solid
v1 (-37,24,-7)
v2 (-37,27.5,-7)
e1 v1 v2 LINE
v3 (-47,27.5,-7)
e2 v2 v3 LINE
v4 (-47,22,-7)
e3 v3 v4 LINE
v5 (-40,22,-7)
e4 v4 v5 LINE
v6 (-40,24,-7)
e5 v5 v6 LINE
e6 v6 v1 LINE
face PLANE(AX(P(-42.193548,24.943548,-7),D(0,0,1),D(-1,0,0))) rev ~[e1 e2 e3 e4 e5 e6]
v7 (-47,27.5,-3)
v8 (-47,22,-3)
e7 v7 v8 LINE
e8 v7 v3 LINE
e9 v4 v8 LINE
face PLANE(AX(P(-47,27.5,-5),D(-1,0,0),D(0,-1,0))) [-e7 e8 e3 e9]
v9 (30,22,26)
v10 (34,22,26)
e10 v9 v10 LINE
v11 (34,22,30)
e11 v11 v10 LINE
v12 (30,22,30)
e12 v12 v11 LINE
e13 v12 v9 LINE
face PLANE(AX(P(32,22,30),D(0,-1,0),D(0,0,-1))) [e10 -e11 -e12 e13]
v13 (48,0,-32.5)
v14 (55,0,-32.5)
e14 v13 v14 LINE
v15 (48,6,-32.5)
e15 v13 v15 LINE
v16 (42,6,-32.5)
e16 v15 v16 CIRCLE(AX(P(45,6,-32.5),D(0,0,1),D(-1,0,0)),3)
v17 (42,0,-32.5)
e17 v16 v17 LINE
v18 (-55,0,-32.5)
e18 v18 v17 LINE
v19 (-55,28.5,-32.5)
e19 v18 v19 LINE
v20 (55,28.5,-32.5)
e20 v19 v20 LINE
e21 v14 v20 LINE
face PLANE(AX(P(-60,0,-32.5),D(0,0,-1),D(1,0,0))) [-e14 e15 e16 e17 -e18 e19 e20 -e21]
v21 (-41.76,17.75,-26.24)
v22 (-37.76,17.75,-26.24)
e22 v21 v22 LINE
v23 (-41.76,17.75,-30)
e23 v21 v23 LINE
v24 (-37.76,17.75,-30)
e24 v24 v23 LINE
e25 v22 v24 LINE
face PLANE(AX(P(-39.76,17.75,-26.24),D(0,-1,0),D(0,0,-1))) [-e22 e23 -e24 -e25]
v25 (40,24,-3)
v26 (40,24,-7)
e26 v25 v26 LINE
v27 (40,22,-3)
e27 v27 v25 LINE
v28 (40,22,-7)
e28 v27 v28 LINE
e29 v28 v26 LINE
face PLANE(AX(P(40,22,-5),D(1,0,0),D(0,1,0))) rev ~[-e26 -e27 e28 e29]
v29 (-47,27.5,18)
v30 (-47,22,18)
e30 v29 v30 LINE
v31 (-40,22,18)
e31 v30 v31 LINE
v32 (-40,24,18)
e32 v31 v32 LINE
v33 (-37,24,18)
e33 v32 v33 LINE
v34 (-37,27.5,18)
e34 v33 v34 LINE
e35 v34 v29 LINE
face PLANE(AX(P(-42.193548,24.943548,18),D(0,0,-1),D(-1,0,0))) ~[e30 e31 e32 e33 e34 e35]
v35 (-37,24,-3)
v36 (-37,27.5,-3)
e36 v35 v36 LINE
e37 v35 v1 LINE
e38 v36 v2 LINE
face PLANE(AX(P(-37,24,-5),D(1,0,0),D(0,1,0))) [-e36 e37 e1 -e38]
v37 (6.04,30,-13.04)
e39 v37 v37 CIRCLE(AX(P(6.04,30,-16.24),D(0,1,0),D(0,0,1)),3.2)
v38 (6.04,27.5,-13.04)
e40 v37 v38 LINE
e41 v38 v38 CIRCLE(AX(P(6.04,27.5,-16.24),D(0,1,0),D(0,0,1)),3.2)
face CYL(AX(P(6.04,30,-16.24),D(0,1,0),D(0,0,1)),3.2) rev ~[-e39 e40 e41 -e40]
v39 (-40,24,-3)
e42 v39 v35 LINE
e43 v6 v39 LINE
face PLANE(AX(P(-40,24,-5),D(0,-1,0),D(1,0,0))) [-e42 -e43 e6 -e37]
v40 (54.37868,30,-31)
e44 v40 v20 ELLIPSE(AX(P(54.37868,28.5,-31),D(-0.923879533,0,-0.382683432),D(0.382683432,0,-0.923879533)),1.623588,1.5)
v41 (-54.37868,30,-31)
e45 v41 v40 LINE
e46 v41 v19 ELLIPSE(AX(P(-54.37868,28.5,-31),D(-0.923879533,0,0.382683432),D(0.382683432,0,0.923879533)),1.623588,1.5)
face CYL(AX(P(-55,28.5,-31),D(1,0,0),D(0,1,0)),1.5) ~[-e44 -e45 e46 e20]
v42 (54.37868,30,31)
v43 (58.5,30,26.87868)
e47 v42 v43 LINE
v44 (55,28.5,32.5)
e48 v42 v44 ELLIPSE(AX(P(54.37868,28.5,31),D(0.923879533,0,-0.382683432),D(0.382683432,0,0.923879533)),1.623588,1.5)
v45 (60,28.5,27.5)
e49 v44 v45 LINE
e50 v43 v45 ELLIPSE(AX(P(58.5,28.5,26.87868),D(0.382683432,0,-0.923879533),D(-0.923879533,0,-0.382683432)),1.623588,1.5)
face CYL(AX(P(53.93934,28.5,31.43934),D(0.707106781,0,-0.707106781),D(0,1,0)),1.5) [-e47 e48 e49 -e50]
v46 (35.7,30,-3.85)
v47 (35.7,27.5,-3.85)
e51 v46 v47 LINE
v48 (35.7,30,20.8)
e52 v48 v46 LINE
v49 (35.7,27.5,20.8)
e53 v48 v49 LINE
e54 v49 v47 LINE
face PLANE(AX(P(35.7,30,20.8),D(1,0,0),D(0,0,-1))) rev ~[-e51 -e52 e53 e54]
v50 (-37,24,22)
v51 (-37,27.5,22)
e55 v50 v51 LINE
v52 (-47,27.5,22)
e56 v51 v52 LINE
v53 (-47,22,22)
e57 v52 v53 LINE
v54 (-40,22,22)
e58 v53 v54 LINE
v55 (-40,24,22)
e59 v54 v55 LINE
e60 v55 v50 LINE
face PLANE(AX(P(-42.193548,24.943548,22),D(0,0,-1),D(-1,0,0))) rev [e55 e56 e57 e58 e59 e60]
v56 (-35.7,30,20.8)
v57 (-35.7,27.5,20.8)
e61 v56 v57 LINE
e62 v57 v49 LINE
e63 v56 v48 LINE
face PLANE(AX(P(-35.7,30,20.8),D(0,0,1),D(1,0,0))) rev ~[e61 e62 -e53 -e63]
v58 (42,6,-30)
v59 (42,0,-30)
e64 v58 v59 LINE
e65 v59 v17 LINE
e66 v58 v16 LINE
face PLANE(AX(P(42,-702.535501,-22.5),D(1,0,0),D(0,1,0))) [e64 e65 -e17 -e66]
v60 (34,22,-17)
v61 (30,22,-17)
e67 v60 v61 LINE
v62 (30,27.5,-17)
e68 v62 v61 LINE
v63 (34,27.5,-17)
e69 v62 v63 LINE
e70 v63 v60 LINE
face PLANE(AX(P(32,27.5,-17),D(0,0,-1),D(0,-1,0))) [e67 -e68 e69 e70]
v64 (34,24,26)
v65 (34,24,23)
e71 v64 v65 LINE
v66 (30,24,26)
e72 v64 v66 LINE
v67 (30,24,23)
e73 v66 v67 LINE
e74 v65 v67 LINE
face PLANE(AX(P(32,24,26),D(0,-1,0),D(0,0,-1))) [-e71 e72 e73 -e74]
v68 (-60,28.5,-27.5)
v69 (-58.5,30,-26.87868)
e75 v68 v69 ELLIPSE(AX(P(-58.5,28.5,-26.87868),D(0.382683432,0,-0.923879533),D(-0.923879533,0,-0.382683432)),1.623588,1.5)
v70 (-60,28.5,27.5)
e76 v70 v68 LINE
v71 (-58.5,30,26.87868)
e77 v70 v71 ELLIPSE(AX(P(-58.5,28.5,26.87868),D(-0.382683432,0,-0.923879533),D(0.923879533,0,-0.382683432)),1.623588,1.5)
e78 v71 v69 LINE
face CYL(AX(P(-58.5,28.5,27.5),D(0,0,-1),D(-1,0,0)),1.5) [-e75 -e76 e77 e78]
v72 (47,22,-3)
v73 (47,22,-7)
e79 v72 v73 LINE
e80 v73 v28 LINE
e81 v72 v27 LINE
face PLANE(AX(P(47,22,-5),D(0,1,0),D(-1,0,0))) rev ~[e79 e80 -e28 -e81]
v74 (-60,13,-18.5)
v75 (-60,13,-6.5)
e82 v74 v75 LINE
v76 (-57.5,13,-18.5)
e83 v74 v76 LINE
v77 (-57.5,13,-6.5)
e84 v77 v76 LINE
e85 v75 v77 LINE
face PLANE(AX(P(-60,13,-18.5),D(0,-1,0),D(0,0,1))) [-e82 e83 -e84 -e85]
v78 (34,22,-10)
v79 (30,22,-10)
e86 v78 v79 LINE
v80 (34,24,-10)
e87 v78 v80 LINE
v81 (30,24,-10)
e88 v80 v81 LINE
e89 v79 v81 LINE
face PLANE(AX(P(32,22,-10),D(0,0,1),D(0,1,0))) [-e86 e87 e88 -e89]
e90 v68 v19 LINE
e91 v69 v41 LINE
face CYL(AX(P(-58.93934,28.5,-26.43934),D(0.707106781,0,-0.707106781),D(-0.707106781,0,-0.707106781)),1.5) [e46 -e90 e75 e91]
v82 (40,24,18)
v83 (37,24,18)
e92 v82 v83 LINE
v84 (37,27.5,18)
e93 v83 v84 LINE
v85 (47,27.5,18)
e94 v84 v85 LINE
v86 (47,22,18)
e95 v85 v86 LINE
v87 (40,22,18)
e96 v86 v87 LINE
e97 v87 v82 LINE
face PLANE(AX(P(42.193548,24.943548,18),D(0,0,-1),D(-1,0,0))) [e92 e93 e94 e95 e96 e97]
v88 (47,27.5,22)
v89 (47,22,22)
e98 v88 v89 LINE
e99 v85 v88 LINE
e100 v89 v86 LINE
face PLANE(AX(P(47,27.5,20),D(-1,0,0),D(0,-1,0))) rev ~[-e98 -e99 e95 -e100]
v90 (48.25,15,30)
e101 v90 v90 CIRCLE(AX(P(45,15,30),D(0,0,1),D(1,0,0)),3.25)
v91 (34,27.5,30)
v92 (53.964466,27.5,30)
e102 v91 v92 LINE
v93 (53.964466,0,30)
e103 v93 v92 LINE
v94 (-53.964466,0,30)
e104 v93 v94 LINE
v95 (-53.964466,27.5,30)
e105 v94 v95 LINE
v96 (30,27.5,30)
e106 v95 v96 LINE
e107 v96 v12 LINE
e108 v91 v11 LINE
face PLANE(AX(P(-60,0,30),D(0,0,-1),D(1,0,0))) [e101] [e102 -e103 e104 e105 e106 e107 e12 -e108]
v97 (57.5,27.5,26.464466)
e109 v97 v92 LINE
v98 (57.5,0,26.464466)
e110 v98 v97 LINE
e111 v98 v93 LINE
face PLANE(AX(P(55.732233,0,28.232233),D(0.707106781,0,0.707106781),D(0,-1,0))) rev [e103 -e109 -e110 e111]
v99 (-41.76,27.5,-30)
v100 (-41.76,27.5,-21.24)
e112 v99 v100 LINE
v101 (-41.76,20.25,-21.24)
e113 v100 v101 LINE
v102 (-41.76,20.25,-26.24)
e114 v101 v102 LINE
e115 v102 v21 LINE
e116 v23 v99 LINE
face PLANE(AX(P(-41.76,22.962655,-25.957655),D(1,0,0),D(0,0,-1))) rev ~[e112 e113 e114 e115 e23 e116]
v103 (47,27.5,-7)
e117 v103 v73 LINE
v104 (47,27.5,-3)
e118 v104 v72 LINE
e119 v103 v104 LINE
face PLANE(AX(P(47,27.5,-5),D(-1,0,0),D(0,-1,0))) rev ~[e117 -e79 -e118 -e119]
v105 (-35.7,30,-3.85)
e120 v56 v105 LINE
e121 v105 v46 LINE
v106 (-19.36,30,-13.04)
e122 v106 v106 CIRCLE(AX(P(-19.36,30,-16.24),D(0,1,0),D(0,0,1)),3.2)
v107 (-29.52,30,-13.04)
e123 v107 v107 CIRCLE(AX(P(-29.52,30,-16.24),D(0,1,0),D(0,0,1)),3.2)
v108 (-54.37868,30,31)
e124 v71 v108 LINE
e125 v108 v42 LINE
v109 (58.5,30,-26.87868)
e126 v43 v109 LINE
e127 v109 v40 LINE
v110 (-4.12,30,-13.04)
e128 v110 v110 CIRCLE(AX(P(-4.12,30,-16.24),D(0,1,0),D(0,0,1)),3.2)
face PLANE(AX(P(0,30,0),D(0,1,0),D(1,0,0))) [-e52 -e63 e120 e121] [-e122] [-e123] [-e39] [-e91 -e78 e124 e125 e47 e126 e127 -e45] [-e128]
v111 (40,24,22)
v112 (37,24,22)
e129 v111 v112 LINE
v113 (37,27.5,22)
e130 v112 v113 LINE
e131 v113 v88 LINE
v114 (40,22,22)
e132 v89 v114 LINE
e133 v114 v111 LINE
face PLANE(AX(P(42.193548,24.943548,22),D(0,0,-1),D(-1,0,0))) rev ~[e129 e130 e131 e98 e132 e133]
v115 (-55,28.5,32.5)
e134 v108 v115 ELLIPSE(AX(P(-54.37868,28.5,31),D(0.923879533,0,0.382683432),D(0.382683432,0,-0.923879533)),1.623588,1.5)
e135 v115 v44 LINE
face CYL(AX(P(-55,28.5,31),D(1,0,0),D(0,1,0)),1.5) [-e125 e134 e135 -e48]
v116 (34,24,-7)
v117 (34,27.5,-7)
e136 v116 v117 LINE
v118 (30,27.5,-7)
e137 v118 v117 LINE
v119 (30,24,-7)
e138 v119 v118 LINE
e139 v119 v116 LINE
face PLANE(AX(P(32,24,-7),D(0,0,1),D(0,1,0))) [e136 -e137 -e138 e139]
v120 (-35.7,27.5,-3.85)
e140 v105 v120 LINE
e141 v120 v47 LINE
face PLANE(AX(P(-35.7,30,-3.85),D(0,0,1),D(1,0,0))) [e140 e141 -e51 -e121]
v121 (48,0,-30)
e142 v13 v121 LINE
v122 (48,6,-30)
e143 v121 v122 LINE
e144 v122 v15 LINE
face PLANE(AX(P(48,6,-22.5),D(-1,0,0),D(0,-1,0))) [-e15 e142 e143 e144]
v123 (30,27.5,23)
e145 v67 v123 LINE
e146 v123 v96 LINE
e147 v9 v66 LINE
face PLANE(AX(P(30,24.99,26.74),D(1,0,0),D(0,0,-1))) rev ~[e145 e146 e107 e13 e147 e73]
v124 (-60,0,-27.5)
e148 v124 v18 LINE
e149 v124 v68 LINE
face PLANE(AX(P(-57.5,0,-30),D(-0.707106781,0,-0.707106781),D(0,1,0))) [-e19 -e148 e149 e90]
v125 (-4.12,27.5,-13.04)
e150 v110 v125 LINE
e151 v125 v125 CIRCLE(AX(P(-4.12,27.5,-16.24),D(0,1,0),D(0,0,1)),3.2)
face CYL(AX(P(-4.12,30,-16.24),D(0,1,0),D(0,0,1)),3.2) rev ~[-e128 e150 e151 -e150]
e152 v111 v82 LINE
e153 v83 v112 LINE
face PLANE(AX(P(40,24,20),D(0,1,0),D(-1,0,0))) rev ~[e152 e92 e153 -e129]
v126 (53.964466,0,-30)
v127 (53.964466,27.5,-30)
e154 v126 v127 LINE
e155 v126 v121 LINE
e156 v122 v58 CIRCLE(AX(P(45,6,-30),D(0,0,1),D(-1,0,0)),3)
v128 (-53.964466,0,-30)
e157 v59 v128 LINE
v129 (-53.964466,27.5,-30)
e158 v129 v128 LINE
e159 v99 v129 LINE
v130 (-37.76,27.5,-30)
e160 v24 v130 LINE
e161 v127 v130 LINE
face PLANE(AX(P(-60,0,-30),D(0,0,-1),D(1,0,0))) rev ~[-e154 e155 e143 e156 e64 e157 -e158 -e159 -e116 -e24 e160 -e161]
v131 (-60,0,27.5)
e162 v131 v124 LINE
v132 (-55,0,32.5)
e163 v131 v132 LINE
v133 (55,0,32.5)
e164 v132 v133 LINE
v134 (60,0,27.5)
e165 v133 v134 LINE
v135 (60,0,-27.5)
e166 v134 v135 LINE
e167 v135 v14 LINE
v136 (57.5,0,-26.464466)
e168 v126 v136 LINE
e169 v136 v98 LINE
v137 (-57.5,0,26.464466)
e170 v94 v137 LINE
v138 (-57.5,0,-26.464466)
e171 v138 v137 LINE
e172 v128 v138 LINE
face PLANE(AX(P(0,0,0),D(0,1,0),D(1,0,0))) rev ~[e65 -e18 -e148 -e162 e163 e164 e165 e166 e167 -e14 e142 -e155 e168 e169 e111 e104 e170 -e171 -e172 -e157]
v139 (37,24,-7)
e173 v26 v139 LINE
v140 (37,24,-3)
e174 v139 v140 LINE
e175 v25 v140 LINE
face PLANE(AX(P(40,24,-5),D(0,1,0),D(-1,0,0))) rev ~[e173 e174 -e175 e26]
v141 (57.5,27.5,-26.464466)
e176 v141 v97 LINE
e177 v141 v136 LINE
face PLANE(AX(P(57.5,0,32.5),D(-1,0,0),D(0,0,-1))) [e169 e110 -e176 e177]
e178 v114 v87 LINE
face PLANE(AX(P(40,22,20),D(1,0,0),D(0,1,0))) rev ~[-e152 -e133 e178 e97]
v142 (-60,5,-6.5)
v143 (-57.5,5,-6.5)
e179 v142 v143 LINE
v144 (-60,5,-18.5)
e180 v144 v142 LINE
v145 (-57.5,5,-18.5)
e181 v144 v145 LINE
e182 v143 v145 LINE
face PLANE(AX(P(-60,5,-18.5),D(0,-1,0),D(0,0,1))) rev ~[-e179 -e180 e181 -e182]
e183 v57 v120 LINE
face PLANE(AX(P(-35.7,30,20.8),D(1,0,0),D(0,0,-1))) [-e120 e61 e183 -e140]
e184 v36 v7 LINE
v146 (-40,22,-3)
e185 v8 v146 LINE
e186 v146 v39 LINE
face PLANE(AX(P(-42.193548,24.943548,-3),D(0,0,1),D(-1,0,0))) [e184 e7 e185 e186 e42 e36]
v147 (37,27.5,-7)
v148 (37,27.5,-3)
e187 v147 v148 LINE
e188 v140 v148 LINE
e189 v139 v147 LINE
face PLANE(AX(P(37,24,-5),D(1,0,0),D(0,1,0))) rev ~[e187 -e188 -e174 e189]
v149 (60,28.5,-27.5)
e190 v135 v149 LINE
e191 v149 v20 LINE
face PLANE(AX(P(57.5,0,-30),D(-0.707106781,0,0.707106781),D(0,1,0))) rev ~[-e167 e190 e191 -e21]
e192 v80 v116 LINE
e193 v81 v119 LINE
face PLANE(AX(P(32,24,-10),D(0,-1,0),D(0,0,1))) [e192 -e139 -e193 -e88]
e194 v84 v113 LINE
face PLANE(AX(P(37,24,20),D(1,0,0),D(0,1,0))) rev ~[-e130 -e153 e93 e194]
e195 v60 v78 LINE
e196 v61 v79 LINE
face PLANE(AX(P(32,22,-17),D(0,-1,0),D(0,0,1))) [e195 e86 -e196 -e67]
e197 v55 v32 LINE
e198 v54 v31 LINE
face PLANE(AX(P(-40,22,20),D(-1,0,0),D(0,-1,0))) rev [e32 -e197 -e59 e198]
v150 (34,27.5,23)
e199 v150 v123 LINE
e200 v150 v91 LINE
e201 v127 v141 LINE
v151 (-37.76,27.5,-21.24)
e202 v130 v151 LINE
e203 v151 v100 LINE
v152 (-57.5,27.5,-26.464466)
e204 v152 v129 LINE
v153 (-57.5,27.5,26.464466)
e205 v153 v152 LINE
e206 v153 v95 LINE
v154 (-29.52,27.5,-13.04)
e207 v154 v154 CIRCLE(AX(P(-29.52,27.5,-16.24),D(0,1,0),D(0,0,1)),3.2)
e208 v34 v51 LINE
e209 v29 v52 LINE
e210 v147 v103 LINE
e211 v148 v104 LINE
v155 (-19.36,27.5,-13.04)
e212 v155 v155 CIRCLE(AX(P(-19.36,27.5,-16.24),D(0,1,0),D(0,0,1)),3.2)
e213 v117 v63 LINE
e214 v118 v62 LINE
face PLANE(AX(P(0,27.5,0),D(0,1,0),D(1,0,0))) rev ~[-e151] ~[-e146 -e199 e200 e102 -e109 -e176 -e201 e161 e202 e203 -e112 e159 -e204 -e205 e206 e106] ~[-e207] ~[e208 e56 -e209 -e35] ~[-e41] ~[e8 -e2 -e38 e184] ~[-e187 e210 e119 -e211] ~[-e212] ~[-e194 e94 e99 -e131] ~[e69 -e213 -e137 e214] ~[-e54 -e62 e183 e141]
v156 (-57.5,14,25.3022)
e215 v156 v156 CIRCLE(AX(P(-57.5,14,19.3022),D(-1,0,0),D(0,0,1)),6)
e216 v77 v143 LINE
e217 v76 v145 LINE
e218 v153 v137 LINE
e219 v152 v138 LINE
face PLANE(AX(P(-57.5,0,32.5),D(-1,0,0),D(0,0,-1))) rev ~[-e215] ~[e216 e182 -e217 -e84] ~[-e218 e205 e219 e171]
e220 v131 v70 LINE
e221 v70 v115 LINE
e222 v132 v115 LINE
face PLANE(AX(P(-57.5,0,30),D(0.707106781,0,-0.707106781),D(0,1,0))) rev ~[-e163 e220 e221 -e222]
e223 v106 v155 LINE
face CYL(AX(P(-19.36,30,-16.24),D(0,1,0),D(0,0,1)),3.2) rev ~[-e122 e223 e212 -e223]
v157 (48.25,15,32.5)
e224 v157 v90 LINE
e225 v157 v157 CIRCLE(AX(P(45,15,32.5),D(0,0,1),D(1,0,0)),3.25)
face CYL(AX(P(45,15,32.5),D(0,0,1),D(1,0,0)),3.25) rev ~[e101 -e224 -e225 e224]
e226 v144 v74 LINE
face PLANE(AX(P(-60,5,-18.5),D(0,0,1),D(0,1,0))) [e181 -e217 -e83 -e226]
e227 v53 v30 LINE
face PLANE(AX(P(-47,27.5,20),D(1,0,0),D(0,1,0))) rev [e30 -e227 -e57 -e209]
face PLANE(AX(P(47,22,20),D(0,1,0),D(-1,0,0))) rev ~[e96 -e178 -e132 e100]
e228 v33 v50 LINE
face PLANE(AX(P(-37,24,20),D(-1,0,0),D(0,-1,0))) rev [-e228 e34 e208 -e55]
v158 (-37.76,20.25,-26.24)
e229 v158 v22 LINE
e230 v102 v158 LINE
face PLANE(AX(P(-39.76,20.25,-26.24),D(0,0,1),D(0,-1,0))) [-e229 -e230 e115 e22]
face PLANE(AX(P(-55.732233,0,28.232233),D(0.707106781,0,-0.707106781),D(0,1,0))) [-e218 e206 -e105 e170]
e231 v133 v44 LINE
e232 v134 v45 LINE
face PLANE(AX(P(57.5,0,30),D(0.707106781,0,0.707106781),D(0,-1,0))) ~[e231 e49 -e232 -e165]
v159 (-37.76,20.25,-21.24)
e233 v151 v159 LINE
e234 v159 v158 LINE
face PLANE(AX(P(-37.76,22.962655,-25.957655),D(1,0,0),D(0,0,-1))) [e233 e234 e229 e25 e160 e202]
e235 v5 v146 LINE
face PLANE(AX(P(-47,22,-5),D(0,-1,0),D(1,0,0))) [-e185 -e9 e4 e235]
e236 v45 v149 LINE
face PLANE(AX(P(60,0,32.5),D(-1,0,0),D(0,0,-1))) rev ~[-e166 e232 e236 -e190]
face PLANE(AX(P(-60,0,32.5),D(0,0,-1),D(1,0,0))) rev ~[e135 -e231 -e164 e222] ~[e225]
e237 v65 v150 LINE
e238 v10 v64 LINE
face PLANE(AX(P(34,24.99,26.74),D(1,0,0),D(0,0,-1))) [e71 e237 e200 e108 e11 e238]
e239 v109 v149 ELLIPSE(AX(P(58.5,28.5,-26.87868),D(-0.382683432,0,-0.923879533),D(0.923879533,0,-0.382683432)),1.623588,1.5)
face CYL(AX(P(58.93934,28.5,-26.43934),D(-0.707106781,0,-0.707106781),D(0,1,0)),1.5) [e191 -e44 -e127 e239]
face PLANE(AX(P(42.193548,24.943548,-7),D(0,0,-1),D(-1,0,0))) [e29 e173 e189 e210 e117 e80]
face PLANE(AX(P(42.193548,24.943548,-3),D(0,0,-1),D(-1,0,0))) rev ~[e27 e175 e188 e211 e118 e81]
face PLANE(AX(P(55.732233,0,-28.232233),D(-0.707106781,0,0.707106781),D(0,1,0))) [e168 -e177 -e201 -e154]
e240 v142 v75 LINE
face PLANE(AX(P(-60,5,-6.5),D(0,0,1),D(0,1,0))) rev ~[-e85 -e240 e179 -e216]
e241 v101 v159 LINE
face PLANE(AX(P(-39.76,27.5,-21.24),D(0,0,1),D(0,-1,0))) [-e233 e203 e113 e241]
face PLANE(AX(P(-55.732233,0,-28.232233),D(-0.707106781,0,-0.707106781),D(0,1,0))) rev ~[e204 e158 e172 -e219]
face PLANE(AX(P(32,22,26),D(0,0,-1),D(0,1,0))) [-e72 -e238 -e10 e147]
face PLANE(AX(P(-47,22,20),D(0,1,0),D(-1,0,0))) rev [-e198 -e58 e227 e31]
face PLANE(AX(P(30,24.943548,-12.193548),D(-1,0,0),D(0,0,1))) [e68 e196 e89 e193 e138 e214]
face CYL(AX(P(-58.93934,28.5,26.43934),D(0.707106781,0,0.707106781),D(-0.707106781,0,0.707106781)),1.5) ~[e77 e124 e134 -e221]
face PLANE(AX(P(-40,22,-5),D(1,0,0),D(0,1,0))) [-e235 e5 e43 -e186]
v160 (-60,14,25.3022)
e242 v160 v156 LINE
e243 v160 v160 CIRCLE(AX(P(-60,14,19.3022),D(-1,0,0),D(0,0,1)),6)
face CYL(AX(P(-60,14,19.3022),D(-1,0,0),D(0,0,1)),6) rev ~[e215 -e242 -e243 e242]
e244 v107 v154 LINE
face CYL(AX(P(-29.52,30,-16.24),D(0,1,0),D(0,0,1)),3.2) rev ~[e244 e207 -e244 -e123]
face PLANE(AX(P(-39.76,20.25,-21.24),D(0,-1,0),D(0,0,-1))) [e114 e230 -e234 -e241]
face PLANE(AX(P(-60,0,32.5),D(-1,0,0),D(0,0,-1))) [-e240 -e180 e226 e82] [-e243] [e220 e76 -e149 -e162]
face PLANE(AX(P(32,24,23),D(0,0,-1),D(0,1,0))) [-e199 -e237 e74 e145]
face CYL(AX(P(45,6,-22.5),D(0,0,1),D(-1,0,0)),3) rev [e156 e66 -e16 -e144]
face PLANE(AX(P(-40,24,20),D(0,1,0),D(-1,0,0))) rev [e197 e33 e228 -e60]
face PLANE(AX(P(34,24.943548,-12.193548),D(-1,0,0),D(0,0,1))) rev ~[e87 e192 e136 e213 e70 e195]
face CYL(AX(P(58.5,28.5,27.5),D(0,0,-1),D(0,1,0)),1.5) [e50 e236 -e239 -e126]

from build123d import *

# Parameters (mm, degrees)
SKETCH1_W               = 120
SKETCH1_H               = 65
BOSS_EXTRUDE1_DEPTH     = 30
CHAMFER1_SIZE           = 5
FILLET1_R               = 1.5
SHELL1_T                = -2.5
BOSS_EXTRUDE2_DEPTH     = 2
LPATTERN1_COUNT         = 2
LPATTERN1_PITCH         = 25
MIRROR1_COPY_1_DEPTH    = 2
BOSS_EXTRUDE3_DEPTH     = 2
BOSS_EXTRUDE4_DEPTH     = 2
CUT_EXTRUDE1_REACH      = 129.892
SKETCH7_R               = 6
SKETCH7_W               = 12
SKETCH7_H               = 8
CUT_EXTRUDE3_DEPTH      = 94.407708461
CUT_EXTRUDE3_DEPTH_BACK = 10
SKETCH9_R               = 3.25
CUT_EXTRUDE4_DEPTH      = 10
SKETCH6_R               = 3.2
SKETCH6_W               = 71.4
SKETCH6_H               = 24.65
CUT_EXTRUDE5_DEPTH      = 10


with BuildPart() as part:
    # Sketch1 → Boss-Extrude1 (new body)
    with BuildSketch(Plane(origin=(0, 0, 0), x_dir=(1, 0, 0), z_dir=(0, 1, 0))):
        Rectangle(SKETCH1_W, SKETCH1_H)
    extrude(amount=BOSS_EXTRUDE1_DEPTH)

    # Chamfer1
    chamfer1_edges = [part.edges().sort_by_distance(p)[0] for p in [
        (-60, 15, -32.5),
        (60, 15, -32.5),
        (60, 15, 32.5),
        (-60, 15, 32.5),
    ]]
    chamfer(chamfer1_edges, length=CHAMFER1_SIZE)

    # Fillet1
    fillet1_edges = [part.edges().sort_by_distance(p)[0] for p in [
        (0, 30, -32.5),
        (60, 30, 0),
        (-60, 30, 0),
        (0, 30, 32.5),
        (-57.5, 30, 30),
        (57.5, 30, 30),
        (-57.5, 30, -30),
        (57.5, 30, -30),
    ]]
    fillet(fillet1_edges, radius=FILLET1_R)

    # Shell1
    shell1_openings = [part.faces().sort_by_distance(p)[0] for p in [
        (0, 0, 0),
    ]]
    offset(amount=SHELL1_T, openings=shell1_openings, kind=Kind.INTERSECTION)

    # Sketch2 → Boss-Extrude2 (add, symmetric)
    with BuildSketch(Plane.XY.offset(20)):
        Polygon((47, 27.5), (47, 22), (40, 22), (40, 24), (37, 24), (37, 27.5), align=None)
    boss_extrude2 = extrude(amount=BOSS_EXTRUDE2_DEPTH, both=True)

    # LPattern1: Boss-Extrude2 ×2
    with Locations(*[(0, 0, -i * LPATTERN1_PITCH) for i in range(1, LPATTERN1_COUNT)]):
        add(boss_extrude2)

    # Mirror1: Boss-Extrude2 across plane
    add(boss_extrude2.mirror(Plane(origin=(0, 0, 0), x_dir=(0, 0, 1), z_dir=(1, 0, 0))))

    # Mirror1 copy 1 sketch → Mirror1 copy 1 (add, symmetric)
    with BuildSketch(Plane(origin=(0, 0, -5), x_dir=(-1, 0, 0), z_dir=(0, 0, 1))):
        Polygon((47, -27.5), (47, -22), (40, -22), (40, -24), (37, -24), (37, -27.5), align=None)
    extrude(amount=MIRROR1_COPY_1_DEPTH, both=True)

    # Sketch3 → Boss-Extrude3 (add, symmetric)
    with BuildSketch(Plane(origin=(32, 0, 0), x_dir=(0, 0, -1), z_dir=(1, 0, 0))):
        Polygon((17, 27.5), (17, 22), (10, 22), (10, 24), (7, 24), (7, 27.5), align=None)
        Polygon((-23, 27.5), (-30, 27.5), (-30, 22), (-26, 22), (-26, 24), (-23, 24), align=None)
    extrude(amount=BOSS_EXTRUDE3_DEPTH, both=True)

    # Sketch5 → Boss-Extrude4 (add, symmetric)
    with BuildSketch(Plane(origin=(-39.76, 0, 0), x_dir=(0, 0, -1), z_dir=(1, 0, 0))):
        Polygon((21.24, 27.5), (21.24, 20.25), (26.24, 20.25), (26.24, 17.75), (30, 17.75), (30, 27.5), align=None)
    extrude(amount=BOSS_EXTRUDE4_DEPTH, both=True)

    # Sketch7 → Cut-Extrude1 (cut, up to next)
    with BuildSketch(Plane.ZY.offset(60), mode=Mode.PRIVATE) as cut_extrude1_sk1:
        with Locations((19.3022, 14)):
            Circle(SKETCH7_R)
    cut_extrude1_tool1 = extrude(cut_extrude1_sk1.sketch, amount=-CUT_EXTRUDE1_REACH, mode=Mode.PRIVATE) & part.part
    # Sketch7 → Cut-Extrude1 (cut, up to next)
    with BuildSketch(Plane.ZY.offset(60), mode=Mode.PRIVATE) as cut_extrude1_sk2:
        with Locations((-12.5, 9)):
            Rectangle(SKETCH7_W, SKETCH7_H)
    cut_extrude1_tool2 = extrude(cut_extrude1_sk2.sketch, amount=-CUT_EXTRUDE1_REACH, mode=Mode.PRIVATE) & part.part
    add(cut_extrude1_tool1.solids().sort_by_distance((-60, 14, 19.3022))[0], mode=Mode.SUBTRACT)
    add(cut_extrude1_tool2.solids().sort_by_distance((-60, 9, -12.5))[0], mode=Mode.SUBTRACT)

    # Sketch8 → Cut-Extrude3 (cut, two sides: drawn at the far end of the back side and taken through both)
    with BuildSketch(Plane(origin=(0, 0, -32.5), x_dir=(-1, 0, 0), z_dir=(0, 0, -1)).offset(-CUT_EXTRUDE3_DEPTH_BACK)):
        with BuildLine():
            Line((-42, -234.178500307), (-42, 0))
            Line((-42, 0), (-42, 6))
            ThreePointArc((-42, 6), (-45, 9), (-48, 6))
            Line((-48, 6), (-48, 0))
            Line((-48, 0), (-48, -234.178500307))
            Line((-48, -234.178500307), (-48, -702.535500922))
            Line((-48, -702.535500922), (-42, -702.535500922))
            Line((-42, -702.535500922), (-42, -234.178500307))
        make_face()
    extrude(amount=CUT_EXTRUDE3_DEPTH + CUT_EXTRUDE3_DEPTH_BACK, mode=Mode.SUBTRACT)

    # Sketch9 → Cut-Extrude4 (cut)
    with BuildSketch(Plane.XY.offset(32.5)):
        with Locations((45, 15)):
            Circle(SKETCH9_R)
    extrude(amount=-CUT_EXTRUDE4_DEPTH, mode=Mode.SUBTRACT)

    # Sketch6 → Cut-Extrude5 (cut)
    with BuildSketch(Plane(origin=(0, 30, 0), x_dir=(1, 0, 0), z_dir=(0, 1, 0))):
        with Locations(Location((-29.52, 16.24, 0), (0, 0, 270))):
            Circle(SKETCH6_R)
        with Locations(Location((-19.36, 16.24, 0), (0, 0, 270))):
            Circle(SKETCH6_R)
        with Locations(Location((-4.12, 16.24, 0), (0, 0, 270))):
            Circle(SKETCH6_R)
        with Locations(Location((6.04, 16.24, 0), (0, 0, 270))):
            Circle(SKETCH6_R)
        with Locations((0, -8.475)):
            Rectangle(SKETCH6_W, SKETCH6_H)
    extrude(amount=-CUT_EXTRUDE5_DEPTH, mode=Mode.SUBTRACT)


solid = part.part
